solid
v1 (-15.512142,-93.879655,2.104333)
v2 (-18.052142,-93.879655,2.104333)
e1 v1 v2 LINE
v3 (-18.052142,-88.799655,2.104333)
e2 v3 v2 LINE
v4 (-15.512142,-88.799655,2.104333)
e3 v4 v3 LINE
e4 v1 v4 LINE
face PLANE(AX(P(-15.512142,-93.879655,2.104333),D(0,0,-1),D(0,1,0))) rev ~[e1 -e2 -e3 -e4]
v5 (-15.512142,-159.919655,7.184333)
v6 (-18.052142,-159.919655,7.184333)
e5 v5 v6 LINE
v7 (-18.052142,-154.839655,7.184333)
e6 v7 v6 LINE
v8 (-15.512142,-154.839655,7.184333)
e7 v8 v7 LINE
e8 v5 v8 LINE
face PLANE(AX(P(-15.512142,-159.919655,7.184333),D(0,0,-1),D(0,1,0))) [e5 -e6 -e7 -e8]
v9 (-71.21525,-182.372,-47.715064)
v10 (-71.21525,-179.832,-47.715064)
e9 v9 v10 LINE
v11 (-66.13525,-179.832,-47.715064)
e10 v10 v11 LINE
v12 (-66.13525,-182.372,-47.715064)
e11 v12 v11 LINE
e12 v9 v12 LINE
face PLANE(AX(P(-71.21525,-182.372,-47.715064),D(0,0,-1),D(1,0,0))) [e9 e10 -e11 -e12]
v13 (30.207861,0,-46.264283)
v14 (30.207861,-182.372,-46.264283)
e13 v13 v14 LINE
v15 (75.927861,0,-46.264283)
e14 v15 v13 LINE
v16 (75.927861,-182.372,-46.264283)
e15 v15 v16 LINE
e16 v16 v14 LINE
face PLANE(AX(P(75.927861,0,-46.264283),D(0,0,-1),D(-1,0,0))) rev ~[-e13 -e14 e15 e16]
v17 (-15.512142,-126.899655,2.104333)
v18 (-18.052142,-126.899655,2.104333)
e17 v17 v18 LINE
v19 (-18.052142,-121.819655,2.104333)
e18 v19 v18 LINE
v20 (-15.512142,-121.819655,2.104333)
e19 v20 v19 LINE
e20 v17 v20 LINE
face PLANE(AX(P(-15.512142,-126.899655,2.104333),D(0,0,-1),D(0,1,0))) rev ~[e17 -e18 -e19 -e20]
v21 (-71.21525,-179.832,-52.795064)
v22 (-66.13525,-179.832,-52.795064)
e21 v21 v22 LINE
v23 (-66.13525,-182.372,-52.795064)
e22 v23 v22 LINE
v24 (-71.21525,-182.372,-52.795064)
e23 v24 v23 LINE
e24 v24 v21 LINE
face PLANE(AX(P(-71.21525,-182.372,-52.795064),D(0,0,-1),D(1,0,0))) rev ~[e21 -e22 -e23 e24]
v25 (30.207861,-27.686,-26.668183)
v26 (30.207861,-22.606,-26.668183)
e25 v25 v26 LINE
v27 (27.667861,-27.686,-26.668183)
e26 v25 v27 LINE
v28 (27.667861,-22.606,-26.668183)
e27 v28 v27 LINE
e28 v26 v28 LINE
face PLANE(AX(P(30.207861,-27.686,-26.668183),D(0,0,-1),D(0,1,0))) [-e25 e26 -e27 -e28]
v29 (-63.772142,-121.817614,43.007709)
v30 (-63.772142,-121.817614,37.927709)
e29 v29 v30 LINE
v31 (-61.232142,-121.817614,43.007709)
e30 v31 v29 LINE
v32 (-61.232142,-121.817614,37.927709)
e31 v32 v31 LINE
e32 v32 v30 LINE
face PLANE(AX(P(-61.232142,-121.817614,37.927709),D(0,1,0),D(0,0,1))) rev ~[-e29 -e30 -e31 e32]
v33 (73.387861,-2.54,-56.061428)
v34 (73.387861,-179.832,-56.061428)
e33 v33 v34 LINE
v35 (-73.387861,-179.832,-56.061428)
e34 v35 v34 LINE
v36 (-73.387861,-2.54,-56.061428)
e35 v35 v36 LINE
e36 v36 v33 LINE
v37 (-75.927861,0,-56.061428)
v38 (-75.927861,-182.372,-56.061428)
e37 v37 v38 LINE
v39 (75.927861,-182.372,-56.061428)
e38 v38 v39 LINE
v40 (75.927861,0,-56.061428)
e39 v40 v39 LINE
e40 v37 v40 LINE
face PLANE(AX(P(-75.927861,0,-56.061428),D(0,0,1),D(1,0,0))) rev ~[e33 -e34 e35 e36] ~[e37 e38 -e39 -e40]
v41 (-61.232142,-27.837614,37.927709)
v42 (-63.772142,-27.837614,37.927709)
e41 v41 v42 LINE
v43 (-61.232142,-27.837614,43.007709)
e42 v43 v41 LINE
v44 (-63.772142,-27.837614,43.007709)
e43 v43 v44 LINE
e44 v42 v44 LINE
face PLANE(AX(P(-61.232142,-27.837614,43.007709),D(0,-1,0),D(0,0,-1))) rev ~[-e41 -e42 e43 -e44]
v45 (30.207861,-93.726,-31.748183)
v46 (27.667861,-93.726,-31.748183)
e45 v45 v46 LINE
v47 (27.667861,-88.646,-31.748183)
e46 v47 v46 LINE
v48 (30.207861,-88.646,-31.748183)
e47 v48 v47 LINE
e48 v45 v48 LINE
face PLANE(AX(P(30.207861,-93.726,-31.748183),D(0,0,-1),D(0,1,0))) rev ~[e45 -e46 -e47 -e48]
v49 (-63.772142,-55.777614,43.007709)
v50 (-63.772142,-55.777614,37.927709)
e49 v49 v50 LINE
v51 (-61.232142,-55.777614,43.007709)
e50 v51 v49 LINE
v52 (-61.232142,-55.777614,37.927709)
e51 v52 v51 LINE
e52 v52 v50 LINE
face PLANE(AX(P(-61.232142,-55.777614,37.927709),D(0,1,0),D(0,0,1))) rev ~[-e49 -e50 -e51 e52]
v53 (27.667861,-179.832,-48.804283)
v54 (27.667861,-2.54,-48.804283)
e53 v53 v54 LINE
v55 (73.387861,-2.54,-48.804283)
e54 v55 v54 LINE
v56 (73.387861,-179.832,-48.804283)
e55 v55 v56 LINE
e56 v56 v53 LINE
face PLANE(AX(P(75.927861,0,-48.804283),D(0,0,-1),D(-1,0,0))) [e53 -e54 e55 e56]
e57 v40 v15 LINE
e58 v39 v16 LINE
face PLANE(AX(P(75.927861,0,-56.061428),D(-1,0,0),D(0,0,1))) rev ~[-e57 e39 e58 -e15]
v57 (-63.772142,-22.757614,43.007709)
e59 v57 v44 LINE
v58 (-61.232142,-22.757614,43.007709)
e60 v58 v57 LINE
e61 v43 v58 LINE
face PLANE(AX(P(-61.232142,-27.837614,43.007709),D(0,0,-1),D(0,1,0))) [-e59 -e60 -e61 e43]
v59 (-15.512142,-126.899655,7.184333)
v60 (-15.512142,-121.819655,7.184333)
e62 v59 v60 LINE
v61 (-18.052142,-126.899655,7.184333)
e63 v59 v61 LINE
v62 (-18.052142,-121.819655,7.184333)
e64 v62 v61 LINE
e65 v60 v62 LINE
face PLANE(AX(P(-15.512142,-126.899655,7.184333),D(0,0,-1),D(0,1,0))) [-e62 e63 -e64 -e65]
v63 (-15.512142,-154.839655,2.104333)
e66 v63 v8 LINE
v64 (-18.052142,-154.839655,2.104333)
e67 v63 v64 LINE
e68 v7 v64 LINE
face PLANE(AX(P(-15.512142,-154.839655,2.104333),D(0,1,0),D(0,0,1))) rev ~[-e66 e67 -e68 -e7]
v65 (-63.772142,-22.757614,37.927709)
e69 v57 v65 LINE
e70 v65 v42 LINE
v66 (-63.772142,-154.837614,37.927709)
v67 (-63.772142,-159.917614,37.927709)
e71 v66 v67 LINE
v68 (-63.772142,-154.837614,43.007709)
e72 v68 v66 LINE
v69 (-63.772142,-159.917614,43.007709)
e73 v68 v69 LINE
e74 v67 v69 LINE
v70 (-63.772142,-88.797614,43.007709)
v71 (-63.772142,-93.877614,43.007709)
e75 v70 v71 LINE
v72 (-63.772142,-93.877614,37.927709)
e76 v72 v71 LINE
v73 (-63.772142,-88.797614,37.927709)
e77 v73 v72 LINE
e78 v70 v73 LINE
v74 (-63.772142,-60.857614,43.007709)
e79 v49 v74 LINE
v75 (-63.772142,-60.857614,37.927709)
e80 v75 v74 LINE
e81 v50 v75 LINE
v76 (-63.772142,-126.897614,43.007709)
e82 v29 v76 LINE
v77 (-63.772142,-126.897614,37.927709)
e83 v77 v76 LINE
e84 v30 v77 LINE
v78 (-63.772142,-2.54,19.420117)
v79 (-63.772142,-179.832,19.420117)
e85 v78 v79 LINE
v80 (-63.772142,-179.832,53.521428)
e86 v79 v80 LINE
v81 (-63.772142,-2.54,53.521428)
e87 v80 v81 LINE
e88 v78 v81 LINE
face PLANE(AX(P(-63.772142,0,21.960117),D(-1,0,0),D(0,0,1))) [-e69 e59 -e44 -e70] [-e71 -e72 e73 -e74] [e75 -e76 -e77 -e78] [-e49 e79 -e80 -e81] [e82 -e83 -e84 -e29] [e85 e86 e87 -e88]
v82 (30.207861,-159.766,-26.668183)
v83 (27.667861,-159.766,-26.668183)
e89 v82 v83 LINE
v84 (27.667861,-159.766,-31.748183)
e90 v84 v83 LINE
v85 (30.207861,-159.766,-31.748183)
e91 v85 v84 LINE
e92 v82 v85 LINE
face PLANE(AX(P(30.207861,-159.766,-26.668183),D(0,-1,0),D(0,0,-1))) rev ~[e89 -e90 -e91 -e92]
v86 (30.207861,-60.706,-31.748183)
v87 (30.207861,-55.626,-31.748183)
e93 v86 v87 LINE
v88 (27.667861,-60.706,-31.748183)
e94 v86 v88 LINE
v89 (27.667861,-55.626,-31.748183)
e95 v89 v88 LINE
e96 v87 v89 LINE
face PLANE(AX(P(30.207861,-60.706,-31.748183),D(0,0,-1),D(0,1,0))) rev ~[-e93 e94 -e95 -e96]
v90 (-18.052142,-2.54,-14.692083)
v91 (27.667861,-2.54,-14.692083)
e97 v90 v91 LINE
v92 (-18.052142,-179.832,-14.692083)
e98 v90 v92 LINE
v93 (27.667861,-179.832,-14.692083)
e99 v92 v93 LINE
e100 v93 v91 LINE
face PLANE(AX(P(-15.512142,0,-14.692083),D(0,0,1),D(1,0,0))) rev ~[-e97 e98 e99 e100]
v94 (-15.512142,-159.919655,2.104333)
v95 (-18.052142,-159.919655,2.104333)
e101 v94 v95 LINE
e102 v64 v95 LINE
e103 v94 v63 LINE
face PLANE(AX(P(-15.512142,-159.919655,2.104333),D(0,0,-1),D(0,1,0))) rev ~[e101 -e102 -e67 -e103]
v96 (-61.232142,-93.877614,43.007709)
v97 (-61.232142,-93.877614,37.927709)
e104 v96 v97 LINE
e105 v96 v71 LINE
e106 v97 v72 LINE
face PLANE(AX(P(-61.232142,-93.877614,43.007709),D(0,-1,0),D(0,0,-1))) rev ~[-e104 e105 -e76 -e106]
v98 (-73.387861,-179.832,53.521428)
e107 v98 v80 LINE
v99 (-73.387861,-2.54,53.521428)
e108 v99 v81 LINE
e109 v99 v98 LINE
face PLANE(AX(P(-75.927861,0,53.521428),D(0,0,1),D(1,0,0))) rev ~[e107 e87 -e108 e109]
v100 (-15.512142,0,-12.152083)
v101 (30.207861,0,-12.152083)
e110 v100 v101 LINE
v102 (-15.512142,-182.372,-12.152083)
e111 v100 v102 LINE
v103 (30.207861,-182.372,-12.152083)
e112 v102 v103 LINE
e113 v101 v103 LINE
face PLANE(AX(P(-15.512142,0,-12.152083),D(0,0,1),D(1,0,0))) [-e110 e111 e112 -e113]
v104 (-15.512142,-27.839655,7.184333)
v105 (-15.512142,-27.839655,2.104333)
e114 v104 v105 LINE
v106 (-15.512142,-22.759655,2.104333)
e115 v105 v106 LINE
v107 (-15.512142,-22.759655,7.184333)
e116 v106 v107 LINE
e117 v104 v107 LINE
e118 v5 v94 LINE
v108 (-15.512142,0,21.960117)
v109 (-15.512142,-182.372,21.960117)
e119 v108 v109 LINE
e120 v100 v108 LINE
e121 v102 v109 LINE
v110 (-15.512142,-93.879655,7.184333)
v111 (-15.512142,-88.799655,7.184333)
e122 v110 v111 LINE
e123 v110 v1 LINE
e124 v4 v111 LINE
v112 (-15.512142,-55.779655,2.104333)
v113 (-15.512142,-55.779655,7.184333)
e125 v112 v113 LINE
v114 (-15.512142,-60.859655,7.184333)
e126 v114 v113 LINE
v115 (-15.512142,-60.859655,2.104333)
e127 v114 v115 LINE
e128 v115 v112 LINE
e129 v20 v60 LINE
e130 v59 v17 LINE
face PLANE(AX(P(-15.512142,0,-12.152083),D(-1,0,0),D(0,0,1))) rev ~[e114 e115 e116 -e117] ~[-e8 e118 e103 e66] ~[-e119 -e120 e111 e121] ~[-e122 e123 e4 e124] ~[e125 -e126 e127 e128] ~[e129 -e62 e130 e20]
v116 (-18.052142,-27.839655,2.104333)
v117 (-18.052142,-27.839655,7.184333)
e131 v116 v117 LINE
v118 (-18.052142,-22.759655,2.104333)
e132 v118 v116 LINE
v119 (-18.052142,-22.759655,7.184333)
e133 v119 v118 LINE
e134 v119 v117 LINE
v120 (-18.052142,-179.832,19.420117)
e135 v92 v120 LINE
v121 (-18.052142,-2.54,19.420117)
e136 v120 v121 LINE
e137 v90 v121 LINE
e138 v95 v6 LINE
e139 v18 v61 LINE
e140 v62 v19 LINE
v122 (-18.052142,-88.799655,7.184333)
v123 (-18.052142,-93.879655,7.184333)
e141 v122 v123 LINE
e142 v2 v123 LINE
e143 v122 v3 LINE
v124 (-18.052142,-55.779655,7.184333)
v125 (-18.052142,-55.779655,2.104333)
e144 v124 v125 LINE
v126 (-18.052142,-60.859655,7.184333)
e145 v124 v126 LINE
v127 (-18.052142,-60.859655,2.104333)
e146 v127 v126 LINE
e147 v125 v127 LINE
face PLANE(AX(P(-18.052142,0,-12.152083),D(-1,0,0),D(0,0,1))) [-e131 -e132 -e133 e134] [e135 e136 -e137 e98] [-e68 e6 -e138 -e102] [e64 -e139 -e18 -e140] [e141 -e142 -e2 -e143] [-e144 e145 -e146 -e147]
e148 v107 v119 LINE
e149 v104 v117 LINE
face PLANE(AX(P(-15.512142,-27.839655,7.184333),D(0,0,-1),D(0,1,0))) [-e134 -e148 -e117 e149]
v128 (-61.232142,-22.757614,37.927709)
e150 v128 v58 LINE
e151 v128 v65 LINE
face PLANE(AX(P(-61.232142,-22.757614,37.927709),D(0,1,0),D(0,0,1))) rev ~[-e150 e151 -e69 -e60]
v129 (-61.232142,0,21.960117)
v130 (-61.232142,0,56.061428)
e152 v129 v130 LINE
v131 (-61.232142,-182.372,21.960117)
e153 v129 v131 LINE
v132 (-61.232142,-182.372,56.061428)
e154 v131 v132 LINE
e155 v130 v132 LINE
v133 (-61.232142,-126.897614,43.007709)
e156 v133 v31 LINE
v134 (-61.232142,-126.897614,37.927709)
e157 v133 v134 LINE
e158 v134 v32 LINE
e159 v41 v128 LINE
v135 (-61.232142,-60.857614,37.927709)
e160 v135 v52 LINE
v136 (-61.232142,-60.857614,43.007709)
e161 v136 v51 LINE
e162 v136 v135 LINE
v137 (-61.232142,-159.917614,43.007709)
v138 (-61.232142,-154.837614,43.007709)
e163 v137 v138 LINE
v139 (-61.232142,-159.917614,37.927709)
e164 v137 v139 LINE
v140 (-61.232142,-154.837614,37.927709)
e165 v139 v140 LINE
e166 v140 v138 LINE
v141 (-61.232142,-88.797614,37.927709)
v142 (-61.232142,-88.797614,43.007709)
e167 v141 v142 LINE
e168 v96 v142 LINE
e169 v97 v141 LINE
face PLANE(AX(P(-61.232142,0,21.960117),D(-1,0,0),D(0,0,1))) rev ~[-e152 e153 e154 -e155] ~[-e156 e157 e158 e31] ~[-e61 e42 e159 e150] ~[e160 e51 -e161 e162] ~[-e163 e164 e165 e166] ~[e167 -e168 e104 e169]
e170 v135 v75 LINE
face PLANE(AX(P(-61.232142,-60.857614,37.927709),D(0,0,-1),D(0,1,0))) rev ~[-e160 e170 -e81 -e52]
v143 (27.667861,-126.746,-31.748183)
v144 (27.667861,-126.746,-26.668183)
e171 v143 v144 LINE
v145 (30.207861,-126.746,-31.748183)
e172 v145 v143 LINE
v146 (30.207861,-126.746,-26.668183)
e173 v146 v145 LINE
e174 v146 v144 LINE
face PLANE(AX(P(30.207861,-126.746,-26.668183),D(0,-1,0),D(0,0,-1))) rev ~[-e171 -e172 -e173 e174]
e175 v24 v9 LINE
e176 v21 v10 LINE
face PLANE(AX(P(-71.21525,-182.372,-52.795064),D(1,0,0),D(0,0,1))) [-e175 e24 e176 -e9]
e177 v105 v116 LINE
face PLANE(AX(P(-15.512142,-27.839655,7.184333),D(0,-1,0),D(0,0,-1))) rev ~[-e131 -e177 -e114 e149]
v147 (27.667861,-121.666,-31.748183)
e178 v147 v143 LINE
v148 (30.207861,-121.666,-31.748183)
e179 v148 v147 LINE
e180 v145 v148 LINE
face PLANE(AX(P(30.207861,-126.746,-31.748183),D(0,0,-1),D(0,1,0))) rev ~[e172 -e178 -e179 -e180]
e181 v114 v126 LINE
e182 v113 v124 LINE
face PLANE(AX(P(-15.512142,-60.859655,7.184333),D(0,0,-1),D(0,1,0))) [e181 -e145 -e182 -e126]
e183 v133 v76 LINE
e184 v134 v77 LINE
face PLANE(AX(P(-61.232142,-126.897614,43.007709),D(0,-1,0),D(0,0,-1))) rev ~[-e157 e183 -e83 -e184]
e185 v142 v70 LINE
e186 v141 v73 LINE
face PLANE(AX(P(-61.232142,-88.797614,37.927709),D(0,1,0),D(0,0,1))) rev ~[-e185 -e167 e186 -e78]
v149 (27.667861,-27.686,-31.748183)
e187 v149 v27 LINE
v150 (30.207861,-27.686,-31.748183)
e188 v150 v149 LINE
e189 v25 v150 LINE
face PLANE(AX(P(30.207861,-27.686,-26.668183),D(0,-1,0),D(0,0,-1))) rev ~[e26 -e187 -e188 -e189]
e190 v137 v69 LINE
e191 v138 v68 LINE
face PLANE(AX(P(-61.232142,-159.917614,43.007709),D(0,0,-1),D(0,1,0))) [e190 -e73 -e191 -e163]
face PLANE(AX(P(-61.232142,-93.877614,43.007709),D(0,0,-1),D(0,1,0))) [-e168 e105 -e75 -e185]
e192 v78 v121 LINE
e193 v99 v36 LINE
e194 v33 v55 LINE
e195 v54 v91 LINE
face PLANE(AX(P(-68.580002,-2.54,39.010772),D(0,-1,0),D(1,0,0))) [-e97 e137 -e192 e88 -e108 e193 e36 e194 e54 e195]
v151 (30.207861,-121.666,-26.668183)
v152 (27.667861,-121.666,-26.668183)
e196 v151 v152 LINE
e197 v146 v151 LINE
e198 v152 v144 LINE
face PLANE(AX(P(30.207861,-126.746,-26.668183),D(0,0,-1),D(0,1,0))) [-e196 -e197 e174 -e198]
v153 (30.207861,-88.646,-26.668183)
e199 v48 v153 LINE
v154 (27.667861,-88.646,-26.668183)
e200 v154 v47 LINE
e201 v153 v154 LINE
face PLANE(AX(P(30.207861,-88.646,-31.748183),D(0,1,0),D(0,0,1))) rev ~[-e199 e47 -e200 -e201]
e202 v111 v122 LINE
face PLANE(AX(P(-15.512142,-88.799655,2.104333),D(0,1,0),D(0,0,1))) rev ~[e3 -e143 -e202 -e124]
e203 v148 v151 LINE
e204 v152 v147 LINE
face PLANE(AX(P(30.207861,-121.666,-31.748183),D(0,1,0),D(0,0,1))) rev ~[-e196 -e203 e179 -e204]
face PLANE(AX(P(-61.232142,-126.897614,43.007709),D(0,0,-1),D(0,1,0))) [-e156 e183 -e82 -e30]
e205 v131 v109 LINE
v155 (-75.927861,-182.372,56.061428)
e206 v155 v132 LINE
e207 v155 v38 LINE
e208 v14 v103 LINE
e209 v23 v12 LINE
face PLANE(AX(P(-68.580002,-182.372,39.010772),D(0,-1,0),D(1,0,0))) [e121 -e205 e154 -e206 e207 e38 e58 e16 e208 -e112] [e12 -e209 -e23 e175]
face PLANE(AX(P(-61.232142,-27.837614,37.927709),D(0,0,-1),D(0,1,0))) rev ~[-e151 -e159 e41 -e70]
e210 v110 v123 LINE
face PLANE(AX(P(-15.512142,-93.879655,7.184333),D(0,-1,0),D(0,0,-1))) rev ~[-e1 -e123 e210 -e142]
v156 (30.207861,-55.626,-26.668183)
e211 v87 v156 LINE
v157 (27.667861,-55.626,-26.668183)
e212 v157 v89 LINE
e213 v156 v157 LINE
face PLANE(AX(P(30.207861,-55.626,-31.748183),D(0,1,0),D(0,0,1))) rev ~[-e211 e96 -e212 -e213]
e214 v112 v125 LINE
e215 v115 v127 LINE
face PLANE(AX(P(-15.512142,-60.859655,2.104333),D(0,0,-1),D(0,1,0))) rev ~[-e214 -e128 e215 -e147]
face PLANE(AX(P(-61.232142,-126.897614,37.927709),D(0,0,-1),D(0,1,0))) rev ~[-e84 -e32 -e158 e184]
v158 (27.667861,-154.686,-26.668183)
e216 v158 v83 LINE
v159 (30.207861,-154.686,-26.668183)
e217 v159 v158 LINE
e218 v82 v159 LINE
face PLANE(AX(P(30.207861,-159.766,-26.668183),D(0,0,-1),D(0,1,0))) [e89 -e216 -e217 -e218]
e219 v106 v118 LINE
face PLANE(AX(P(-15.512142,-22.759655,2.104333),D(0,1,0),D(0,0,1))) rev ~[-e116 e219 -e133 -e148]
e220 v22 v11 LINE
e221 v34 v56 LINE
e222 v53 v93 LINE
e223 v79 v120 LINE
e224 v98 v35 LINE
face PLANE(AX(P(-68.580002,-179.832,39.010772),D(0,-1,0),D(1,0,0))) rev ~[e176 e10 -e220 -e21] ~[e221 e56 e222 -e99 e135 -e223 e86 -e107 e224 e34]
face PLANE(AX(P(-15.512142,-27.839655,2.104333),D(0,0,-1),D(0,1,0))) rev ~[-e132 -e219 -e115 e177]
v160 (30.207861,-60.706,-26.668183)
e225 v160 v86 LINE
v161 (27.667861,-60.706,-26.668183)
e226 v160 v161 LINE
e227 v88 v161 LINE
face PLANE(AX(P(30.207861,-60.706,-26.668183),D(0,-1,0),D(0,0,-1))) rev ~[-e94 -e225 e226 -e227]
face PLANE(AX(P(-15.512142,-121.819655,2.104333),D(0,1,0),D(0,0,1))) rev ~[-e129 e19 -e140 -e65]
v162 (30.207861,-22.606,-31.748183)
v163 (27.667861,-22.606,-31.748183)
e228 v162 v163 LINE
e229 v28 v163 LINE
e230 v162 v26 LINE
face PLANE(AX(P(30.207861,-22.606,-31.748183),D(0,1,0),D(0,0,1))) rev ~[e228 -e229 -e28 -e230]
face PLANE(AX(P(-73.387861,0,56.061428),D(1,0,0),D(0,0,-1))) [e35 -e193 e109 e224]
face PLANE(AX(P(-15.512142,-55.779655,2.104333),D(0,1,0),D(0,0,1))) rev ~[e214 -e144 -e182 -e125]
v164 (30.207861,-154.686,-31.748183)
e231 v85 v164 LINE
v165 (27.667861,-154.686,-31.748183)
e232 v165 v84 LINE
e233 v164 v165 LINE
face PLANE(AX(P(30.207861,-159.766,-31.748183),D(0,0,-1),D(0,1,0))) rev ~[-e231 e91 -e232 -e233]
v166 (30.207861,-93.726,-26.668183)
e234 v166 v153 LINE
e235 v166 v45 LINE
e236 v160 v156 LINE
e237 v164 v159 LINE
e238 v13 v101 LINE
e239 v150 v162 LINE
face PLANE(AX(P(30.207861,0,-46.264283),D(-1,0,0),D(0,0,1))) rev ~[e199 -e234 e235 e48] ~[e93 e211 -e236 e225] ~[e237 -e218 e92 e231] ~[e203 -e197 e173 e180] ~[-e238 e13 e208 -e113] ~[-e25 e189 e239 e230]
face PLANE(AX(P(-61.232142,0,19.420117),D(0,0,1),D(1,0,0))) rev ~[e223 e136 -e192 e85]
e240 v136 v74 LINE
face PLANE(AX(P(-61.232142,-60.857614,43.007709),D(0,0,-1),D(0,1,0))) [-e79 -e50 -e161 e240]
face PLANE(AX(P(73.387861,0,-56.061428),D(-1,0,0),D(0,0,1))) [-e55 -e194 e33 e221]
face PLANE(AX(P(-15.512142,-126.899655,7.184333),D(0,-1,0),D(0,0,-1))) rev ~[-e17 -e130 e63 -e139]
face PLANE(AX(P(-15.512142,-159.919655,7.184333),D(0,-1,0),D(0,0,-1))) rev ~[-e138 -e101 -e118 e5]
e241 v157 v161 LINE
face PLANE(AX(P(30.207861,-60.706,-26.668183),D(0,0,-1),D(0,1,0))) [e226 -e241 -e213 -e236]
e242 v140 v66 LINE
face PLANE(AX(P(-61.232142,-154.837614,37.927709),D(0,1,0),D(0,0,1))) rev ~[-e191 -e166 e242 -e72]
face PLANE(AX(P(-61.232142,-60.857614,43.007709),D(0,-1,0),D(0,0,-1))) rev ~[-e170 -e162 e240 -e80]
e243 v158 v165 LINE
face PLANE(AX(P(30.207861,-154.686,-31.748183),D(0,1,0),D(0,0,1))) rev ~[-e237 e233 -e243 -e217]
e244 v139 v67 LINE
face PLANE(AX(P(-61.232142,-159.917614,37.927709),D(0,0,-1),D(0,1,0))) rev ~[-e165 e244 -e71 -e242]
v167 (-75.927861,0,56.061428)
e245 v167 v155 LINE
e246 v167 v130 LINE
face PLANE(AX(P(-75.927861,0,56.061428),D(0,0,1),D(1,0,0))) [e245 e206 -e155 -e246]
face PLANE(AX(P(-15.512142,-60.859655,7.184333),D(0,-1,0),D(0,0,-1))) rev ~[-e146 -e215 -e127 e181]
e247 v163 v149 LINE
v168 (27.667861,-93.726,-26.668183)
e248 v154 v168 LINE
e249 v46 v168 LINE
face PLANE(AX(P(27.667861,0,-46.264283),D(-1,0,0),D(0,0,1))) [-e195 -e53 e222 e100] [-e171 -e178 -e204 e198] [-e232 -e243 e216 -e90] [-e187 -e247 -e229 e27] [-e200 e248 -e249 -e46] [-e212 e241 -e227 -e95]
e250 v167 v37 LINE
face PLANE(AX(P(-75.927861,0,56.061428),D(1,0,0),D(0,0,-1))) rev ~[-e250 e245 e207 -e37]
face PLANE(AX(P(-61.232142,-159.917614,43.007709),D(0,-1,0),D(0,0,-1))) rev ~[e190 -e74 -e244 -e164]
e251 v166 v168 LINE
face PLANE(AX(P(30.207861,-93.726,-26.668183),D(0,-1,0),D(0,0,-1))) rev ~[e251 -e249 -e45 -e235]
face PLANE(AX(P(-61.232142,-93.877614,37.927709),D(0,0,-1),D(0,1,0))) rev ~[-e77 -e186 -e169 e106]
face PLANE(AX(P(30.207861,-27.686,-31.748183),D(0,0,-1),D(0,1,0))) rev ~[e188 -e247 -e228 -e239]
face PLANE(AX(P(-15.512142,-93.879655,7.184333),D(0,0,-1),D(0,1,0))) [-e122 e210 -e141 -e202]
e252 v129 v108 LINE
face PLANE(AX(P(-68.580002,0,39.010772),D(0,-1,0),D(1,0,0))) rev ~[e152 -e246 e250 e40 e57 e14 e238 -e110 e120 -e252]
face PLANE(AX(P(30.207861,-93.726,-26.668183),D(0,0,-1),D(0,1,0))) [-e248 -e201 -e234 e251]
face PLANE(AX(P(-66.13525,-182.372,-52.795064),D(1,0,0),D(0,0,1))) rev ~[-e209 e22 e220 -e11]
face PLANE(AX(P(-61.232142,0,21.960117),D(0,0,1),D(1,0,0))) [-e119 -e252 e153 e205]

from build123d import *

# Parameters (mm, degrees)
F0_W      = 14.6957188845
F0_H      = 34.1013113993
F0_W_2    = 45.72
F0_H_2    = 34.1122
F0_H_3    = 9.7971446812
F0_W_3    = 45.7200031853
F1_DEPTH  = 182.372
F2_T      = -2.54
F3_W      = 5.08
F3_H      = 2.54
F4_DEPTH  = 25.4
F5_W      = 5.08
F5_H      = 5.08
F6_DEPTH  = 25.4
F7_W      = 5.08
F7_H      = 2.54
F8_DEPTH  = 25.4
F9_W      = 5.08
F9_H      = 2.54
F10_DEPTH = 10.3632


with BuildPart() as f1:
    # F0 (on Front) → F1 (new body)
    with BuildSketch(Plane.XZ):
        with Locations((-68.5800015926, 39.0107723406)):
            Rectangle(F0_W, F0_H)
        with Locations((-38.3721421504, 4.9040166409)):
            Rectangle(F0_W_2, F0_H_2)
        with Locations((-68.5800015926, 4.9040166409)):
            Rectangle(F0_W, F0_H_2)
        with Locations((-68.5800015926, -29.2081833591)):
            Rectangle(F0_W, F0_H_2)
        with Locations((-68.5800015926, -51.1628556997)):
            Rectangle(F0_W, F0_H_3)
        with Locations((-38.3721421504, -29.2081833591)):
            Rectangle(F0_W_2, F0_H_2)
        with Locations((-38.3721421504, -51.1628556997)):
            Rectangle(F0_W_2, F0_H_3)
        with Locations((7.3478594422, -51.1628556997)):
            Rectangle(F0_W_3, F0_H_3)
        with Locations((53.0678610349, -51.1628556997)):
            Rectangle(F0_W_2, F0_H_3)
        with Locations((7.3478594422, -29.2081833591)):
            Rectangle(F0_W_3, F0_H_2)
    extrude(amount=F1_DEPTH)

    # F2
    f2_openings = [f1.faces().sort_by_distance(p)[0] for p in [
        (0, -91.186, -56.061428),
    ]]
    offset(amount=F2_T, openings=f2_openings, kind=Kind.INTERSECTION)

    # F3 (on face) → F4 (cut)
    with BuildSketch(Plane.YZ.offset(30.2078610349)):
        with Locations((-157.226, -27.9381833591)):
            Rectangle(F3_W, F3_H)
        with Locations((-157.226, -30.4781833591)):
            Rectangle(F3_W, F3_H)
        with Locations((-124.206, -30.4781833591)):
            Rectangle(F3_W, F3_H)
        with Locations((-124.206, -27.9381833591)):
            Rectangle(F3_W, F3_H)
        with Locations((-91.186, -30.4781833591)):
            Rectangle(F3_W, F3_H)
        with Locations((-91.186, -27.9381833591)):
            Rectangle(F3_W, F3_H)
        with Locations((-58.166, -30.4781833591)):
            Rectangle(F3_W, F3_H)
        with Locations((-58.166, -27.9381833591)):
            Rectangle(F3_W, F3_H)
        with Locations((-25.146, -27.9381833591)):
            Rectangle(F3_W, F3_H)
        with Locations((-25.146, -30.4781833591)):
            Rectangle(F3_W, F3_H)
    extrude(amount=-F4_DEPTH, mode=Mode.SUBTRACT)

    # F5 (on face) → F6 (cut)
    with BuildSketch(Plane.XZ.offset(182.372)):
        with Locations((-68.675249815, -50.2550639212)):
            Rectangle(F5_W, F5_H)
    extrude(amount=-F6_DEPTH, mode=Mode.SUBTRACT)

    # F7 (on face) → F8 (cut)
    with BuildSketch(Plane.YZ.offset(-15.5121421504)):
        with Locations((-157.3796552205, 5.9143330357)):
            Rectangle(F7_W, F7_H)
        with Locations((-157.3796552205, 3.3743330357)):
            Rectangle(F7_W, F7_H)
        with Locations((-124.3596552205, 5.9143330357)):
            Rectangle(F7_W, F7_H)
        with Locations((-124.3596552205, 3.3743330357)):
            Rectangle(F7_W, F7_H)
        with Locations((-91.3396552205, 5.9143330357)):
            Rectangle(F7_W, F7_H)
        with Locations((-91.3396552205, 3.3743330357)):
            Rectangle(F7_W, F7_H)
        with Locations((-58.3196552205, 5.9143330357)):
            Rectangle(F7_W, F7_H)
        with Locations((-58.3196552205, 3.3743330357)):
            Rectangle(F7_W, F7_H)
        with Locations((-25.2996552205, 5.9143330357)):
            Rectangle(F7_W, F7_H)
        with Locations((-25.2996552205, 3.3743330357)):
            Rectangle(F7_W, F7_H)
    extrude(amount=-F8_DEPTH, mode=Mode.SUBTRACT)

    # F9 (on face) → F10 (cut)
    with BuildSketch(Plane.YZ.offset(-61.2321421504)):
        with Locations((-157.3776137614, 41.7377093029)):
            Rectangle(F9_W, F9_H)
        with Locations((-157.3776137614, 39.1977093029)):
            Rectangle(F9_W, F9_H)
        with Locations((-124.3576137614, 41.7377093029)):
            Rectangle(F9_W, F9_H)
        with Locations((-124.3576137614, 39.1977093029)):
            Rectangle(F9_W, F9_H)
        with Locations((-91.3376137614, 41.7377093029)):
            Rectangle(F9_W, F9_H)
        with Locations((-91.3376137614, 39.1977093029)):
            Rectangle(F9_W, F9_H)
        with Locations((-58.3176137614, 41.7377093029)):
            Rectangle(F9_W, F9_H)
        with Locations((-58.3176137614, 39.1977093029)):
            Rectangle(F9_W, F9_H)
        with Locations((-25.2976137614, 41.7377093029)):
            Rectangle(F9_W, F9_H)
        with Locations((-25.2976137614, 39.1977093029)):
            Rectangle(F9_W, F9_H)
    extrude(amount=-F10_DEPTH, mode=Mode.SUBTRACT)


solid = f1.part
